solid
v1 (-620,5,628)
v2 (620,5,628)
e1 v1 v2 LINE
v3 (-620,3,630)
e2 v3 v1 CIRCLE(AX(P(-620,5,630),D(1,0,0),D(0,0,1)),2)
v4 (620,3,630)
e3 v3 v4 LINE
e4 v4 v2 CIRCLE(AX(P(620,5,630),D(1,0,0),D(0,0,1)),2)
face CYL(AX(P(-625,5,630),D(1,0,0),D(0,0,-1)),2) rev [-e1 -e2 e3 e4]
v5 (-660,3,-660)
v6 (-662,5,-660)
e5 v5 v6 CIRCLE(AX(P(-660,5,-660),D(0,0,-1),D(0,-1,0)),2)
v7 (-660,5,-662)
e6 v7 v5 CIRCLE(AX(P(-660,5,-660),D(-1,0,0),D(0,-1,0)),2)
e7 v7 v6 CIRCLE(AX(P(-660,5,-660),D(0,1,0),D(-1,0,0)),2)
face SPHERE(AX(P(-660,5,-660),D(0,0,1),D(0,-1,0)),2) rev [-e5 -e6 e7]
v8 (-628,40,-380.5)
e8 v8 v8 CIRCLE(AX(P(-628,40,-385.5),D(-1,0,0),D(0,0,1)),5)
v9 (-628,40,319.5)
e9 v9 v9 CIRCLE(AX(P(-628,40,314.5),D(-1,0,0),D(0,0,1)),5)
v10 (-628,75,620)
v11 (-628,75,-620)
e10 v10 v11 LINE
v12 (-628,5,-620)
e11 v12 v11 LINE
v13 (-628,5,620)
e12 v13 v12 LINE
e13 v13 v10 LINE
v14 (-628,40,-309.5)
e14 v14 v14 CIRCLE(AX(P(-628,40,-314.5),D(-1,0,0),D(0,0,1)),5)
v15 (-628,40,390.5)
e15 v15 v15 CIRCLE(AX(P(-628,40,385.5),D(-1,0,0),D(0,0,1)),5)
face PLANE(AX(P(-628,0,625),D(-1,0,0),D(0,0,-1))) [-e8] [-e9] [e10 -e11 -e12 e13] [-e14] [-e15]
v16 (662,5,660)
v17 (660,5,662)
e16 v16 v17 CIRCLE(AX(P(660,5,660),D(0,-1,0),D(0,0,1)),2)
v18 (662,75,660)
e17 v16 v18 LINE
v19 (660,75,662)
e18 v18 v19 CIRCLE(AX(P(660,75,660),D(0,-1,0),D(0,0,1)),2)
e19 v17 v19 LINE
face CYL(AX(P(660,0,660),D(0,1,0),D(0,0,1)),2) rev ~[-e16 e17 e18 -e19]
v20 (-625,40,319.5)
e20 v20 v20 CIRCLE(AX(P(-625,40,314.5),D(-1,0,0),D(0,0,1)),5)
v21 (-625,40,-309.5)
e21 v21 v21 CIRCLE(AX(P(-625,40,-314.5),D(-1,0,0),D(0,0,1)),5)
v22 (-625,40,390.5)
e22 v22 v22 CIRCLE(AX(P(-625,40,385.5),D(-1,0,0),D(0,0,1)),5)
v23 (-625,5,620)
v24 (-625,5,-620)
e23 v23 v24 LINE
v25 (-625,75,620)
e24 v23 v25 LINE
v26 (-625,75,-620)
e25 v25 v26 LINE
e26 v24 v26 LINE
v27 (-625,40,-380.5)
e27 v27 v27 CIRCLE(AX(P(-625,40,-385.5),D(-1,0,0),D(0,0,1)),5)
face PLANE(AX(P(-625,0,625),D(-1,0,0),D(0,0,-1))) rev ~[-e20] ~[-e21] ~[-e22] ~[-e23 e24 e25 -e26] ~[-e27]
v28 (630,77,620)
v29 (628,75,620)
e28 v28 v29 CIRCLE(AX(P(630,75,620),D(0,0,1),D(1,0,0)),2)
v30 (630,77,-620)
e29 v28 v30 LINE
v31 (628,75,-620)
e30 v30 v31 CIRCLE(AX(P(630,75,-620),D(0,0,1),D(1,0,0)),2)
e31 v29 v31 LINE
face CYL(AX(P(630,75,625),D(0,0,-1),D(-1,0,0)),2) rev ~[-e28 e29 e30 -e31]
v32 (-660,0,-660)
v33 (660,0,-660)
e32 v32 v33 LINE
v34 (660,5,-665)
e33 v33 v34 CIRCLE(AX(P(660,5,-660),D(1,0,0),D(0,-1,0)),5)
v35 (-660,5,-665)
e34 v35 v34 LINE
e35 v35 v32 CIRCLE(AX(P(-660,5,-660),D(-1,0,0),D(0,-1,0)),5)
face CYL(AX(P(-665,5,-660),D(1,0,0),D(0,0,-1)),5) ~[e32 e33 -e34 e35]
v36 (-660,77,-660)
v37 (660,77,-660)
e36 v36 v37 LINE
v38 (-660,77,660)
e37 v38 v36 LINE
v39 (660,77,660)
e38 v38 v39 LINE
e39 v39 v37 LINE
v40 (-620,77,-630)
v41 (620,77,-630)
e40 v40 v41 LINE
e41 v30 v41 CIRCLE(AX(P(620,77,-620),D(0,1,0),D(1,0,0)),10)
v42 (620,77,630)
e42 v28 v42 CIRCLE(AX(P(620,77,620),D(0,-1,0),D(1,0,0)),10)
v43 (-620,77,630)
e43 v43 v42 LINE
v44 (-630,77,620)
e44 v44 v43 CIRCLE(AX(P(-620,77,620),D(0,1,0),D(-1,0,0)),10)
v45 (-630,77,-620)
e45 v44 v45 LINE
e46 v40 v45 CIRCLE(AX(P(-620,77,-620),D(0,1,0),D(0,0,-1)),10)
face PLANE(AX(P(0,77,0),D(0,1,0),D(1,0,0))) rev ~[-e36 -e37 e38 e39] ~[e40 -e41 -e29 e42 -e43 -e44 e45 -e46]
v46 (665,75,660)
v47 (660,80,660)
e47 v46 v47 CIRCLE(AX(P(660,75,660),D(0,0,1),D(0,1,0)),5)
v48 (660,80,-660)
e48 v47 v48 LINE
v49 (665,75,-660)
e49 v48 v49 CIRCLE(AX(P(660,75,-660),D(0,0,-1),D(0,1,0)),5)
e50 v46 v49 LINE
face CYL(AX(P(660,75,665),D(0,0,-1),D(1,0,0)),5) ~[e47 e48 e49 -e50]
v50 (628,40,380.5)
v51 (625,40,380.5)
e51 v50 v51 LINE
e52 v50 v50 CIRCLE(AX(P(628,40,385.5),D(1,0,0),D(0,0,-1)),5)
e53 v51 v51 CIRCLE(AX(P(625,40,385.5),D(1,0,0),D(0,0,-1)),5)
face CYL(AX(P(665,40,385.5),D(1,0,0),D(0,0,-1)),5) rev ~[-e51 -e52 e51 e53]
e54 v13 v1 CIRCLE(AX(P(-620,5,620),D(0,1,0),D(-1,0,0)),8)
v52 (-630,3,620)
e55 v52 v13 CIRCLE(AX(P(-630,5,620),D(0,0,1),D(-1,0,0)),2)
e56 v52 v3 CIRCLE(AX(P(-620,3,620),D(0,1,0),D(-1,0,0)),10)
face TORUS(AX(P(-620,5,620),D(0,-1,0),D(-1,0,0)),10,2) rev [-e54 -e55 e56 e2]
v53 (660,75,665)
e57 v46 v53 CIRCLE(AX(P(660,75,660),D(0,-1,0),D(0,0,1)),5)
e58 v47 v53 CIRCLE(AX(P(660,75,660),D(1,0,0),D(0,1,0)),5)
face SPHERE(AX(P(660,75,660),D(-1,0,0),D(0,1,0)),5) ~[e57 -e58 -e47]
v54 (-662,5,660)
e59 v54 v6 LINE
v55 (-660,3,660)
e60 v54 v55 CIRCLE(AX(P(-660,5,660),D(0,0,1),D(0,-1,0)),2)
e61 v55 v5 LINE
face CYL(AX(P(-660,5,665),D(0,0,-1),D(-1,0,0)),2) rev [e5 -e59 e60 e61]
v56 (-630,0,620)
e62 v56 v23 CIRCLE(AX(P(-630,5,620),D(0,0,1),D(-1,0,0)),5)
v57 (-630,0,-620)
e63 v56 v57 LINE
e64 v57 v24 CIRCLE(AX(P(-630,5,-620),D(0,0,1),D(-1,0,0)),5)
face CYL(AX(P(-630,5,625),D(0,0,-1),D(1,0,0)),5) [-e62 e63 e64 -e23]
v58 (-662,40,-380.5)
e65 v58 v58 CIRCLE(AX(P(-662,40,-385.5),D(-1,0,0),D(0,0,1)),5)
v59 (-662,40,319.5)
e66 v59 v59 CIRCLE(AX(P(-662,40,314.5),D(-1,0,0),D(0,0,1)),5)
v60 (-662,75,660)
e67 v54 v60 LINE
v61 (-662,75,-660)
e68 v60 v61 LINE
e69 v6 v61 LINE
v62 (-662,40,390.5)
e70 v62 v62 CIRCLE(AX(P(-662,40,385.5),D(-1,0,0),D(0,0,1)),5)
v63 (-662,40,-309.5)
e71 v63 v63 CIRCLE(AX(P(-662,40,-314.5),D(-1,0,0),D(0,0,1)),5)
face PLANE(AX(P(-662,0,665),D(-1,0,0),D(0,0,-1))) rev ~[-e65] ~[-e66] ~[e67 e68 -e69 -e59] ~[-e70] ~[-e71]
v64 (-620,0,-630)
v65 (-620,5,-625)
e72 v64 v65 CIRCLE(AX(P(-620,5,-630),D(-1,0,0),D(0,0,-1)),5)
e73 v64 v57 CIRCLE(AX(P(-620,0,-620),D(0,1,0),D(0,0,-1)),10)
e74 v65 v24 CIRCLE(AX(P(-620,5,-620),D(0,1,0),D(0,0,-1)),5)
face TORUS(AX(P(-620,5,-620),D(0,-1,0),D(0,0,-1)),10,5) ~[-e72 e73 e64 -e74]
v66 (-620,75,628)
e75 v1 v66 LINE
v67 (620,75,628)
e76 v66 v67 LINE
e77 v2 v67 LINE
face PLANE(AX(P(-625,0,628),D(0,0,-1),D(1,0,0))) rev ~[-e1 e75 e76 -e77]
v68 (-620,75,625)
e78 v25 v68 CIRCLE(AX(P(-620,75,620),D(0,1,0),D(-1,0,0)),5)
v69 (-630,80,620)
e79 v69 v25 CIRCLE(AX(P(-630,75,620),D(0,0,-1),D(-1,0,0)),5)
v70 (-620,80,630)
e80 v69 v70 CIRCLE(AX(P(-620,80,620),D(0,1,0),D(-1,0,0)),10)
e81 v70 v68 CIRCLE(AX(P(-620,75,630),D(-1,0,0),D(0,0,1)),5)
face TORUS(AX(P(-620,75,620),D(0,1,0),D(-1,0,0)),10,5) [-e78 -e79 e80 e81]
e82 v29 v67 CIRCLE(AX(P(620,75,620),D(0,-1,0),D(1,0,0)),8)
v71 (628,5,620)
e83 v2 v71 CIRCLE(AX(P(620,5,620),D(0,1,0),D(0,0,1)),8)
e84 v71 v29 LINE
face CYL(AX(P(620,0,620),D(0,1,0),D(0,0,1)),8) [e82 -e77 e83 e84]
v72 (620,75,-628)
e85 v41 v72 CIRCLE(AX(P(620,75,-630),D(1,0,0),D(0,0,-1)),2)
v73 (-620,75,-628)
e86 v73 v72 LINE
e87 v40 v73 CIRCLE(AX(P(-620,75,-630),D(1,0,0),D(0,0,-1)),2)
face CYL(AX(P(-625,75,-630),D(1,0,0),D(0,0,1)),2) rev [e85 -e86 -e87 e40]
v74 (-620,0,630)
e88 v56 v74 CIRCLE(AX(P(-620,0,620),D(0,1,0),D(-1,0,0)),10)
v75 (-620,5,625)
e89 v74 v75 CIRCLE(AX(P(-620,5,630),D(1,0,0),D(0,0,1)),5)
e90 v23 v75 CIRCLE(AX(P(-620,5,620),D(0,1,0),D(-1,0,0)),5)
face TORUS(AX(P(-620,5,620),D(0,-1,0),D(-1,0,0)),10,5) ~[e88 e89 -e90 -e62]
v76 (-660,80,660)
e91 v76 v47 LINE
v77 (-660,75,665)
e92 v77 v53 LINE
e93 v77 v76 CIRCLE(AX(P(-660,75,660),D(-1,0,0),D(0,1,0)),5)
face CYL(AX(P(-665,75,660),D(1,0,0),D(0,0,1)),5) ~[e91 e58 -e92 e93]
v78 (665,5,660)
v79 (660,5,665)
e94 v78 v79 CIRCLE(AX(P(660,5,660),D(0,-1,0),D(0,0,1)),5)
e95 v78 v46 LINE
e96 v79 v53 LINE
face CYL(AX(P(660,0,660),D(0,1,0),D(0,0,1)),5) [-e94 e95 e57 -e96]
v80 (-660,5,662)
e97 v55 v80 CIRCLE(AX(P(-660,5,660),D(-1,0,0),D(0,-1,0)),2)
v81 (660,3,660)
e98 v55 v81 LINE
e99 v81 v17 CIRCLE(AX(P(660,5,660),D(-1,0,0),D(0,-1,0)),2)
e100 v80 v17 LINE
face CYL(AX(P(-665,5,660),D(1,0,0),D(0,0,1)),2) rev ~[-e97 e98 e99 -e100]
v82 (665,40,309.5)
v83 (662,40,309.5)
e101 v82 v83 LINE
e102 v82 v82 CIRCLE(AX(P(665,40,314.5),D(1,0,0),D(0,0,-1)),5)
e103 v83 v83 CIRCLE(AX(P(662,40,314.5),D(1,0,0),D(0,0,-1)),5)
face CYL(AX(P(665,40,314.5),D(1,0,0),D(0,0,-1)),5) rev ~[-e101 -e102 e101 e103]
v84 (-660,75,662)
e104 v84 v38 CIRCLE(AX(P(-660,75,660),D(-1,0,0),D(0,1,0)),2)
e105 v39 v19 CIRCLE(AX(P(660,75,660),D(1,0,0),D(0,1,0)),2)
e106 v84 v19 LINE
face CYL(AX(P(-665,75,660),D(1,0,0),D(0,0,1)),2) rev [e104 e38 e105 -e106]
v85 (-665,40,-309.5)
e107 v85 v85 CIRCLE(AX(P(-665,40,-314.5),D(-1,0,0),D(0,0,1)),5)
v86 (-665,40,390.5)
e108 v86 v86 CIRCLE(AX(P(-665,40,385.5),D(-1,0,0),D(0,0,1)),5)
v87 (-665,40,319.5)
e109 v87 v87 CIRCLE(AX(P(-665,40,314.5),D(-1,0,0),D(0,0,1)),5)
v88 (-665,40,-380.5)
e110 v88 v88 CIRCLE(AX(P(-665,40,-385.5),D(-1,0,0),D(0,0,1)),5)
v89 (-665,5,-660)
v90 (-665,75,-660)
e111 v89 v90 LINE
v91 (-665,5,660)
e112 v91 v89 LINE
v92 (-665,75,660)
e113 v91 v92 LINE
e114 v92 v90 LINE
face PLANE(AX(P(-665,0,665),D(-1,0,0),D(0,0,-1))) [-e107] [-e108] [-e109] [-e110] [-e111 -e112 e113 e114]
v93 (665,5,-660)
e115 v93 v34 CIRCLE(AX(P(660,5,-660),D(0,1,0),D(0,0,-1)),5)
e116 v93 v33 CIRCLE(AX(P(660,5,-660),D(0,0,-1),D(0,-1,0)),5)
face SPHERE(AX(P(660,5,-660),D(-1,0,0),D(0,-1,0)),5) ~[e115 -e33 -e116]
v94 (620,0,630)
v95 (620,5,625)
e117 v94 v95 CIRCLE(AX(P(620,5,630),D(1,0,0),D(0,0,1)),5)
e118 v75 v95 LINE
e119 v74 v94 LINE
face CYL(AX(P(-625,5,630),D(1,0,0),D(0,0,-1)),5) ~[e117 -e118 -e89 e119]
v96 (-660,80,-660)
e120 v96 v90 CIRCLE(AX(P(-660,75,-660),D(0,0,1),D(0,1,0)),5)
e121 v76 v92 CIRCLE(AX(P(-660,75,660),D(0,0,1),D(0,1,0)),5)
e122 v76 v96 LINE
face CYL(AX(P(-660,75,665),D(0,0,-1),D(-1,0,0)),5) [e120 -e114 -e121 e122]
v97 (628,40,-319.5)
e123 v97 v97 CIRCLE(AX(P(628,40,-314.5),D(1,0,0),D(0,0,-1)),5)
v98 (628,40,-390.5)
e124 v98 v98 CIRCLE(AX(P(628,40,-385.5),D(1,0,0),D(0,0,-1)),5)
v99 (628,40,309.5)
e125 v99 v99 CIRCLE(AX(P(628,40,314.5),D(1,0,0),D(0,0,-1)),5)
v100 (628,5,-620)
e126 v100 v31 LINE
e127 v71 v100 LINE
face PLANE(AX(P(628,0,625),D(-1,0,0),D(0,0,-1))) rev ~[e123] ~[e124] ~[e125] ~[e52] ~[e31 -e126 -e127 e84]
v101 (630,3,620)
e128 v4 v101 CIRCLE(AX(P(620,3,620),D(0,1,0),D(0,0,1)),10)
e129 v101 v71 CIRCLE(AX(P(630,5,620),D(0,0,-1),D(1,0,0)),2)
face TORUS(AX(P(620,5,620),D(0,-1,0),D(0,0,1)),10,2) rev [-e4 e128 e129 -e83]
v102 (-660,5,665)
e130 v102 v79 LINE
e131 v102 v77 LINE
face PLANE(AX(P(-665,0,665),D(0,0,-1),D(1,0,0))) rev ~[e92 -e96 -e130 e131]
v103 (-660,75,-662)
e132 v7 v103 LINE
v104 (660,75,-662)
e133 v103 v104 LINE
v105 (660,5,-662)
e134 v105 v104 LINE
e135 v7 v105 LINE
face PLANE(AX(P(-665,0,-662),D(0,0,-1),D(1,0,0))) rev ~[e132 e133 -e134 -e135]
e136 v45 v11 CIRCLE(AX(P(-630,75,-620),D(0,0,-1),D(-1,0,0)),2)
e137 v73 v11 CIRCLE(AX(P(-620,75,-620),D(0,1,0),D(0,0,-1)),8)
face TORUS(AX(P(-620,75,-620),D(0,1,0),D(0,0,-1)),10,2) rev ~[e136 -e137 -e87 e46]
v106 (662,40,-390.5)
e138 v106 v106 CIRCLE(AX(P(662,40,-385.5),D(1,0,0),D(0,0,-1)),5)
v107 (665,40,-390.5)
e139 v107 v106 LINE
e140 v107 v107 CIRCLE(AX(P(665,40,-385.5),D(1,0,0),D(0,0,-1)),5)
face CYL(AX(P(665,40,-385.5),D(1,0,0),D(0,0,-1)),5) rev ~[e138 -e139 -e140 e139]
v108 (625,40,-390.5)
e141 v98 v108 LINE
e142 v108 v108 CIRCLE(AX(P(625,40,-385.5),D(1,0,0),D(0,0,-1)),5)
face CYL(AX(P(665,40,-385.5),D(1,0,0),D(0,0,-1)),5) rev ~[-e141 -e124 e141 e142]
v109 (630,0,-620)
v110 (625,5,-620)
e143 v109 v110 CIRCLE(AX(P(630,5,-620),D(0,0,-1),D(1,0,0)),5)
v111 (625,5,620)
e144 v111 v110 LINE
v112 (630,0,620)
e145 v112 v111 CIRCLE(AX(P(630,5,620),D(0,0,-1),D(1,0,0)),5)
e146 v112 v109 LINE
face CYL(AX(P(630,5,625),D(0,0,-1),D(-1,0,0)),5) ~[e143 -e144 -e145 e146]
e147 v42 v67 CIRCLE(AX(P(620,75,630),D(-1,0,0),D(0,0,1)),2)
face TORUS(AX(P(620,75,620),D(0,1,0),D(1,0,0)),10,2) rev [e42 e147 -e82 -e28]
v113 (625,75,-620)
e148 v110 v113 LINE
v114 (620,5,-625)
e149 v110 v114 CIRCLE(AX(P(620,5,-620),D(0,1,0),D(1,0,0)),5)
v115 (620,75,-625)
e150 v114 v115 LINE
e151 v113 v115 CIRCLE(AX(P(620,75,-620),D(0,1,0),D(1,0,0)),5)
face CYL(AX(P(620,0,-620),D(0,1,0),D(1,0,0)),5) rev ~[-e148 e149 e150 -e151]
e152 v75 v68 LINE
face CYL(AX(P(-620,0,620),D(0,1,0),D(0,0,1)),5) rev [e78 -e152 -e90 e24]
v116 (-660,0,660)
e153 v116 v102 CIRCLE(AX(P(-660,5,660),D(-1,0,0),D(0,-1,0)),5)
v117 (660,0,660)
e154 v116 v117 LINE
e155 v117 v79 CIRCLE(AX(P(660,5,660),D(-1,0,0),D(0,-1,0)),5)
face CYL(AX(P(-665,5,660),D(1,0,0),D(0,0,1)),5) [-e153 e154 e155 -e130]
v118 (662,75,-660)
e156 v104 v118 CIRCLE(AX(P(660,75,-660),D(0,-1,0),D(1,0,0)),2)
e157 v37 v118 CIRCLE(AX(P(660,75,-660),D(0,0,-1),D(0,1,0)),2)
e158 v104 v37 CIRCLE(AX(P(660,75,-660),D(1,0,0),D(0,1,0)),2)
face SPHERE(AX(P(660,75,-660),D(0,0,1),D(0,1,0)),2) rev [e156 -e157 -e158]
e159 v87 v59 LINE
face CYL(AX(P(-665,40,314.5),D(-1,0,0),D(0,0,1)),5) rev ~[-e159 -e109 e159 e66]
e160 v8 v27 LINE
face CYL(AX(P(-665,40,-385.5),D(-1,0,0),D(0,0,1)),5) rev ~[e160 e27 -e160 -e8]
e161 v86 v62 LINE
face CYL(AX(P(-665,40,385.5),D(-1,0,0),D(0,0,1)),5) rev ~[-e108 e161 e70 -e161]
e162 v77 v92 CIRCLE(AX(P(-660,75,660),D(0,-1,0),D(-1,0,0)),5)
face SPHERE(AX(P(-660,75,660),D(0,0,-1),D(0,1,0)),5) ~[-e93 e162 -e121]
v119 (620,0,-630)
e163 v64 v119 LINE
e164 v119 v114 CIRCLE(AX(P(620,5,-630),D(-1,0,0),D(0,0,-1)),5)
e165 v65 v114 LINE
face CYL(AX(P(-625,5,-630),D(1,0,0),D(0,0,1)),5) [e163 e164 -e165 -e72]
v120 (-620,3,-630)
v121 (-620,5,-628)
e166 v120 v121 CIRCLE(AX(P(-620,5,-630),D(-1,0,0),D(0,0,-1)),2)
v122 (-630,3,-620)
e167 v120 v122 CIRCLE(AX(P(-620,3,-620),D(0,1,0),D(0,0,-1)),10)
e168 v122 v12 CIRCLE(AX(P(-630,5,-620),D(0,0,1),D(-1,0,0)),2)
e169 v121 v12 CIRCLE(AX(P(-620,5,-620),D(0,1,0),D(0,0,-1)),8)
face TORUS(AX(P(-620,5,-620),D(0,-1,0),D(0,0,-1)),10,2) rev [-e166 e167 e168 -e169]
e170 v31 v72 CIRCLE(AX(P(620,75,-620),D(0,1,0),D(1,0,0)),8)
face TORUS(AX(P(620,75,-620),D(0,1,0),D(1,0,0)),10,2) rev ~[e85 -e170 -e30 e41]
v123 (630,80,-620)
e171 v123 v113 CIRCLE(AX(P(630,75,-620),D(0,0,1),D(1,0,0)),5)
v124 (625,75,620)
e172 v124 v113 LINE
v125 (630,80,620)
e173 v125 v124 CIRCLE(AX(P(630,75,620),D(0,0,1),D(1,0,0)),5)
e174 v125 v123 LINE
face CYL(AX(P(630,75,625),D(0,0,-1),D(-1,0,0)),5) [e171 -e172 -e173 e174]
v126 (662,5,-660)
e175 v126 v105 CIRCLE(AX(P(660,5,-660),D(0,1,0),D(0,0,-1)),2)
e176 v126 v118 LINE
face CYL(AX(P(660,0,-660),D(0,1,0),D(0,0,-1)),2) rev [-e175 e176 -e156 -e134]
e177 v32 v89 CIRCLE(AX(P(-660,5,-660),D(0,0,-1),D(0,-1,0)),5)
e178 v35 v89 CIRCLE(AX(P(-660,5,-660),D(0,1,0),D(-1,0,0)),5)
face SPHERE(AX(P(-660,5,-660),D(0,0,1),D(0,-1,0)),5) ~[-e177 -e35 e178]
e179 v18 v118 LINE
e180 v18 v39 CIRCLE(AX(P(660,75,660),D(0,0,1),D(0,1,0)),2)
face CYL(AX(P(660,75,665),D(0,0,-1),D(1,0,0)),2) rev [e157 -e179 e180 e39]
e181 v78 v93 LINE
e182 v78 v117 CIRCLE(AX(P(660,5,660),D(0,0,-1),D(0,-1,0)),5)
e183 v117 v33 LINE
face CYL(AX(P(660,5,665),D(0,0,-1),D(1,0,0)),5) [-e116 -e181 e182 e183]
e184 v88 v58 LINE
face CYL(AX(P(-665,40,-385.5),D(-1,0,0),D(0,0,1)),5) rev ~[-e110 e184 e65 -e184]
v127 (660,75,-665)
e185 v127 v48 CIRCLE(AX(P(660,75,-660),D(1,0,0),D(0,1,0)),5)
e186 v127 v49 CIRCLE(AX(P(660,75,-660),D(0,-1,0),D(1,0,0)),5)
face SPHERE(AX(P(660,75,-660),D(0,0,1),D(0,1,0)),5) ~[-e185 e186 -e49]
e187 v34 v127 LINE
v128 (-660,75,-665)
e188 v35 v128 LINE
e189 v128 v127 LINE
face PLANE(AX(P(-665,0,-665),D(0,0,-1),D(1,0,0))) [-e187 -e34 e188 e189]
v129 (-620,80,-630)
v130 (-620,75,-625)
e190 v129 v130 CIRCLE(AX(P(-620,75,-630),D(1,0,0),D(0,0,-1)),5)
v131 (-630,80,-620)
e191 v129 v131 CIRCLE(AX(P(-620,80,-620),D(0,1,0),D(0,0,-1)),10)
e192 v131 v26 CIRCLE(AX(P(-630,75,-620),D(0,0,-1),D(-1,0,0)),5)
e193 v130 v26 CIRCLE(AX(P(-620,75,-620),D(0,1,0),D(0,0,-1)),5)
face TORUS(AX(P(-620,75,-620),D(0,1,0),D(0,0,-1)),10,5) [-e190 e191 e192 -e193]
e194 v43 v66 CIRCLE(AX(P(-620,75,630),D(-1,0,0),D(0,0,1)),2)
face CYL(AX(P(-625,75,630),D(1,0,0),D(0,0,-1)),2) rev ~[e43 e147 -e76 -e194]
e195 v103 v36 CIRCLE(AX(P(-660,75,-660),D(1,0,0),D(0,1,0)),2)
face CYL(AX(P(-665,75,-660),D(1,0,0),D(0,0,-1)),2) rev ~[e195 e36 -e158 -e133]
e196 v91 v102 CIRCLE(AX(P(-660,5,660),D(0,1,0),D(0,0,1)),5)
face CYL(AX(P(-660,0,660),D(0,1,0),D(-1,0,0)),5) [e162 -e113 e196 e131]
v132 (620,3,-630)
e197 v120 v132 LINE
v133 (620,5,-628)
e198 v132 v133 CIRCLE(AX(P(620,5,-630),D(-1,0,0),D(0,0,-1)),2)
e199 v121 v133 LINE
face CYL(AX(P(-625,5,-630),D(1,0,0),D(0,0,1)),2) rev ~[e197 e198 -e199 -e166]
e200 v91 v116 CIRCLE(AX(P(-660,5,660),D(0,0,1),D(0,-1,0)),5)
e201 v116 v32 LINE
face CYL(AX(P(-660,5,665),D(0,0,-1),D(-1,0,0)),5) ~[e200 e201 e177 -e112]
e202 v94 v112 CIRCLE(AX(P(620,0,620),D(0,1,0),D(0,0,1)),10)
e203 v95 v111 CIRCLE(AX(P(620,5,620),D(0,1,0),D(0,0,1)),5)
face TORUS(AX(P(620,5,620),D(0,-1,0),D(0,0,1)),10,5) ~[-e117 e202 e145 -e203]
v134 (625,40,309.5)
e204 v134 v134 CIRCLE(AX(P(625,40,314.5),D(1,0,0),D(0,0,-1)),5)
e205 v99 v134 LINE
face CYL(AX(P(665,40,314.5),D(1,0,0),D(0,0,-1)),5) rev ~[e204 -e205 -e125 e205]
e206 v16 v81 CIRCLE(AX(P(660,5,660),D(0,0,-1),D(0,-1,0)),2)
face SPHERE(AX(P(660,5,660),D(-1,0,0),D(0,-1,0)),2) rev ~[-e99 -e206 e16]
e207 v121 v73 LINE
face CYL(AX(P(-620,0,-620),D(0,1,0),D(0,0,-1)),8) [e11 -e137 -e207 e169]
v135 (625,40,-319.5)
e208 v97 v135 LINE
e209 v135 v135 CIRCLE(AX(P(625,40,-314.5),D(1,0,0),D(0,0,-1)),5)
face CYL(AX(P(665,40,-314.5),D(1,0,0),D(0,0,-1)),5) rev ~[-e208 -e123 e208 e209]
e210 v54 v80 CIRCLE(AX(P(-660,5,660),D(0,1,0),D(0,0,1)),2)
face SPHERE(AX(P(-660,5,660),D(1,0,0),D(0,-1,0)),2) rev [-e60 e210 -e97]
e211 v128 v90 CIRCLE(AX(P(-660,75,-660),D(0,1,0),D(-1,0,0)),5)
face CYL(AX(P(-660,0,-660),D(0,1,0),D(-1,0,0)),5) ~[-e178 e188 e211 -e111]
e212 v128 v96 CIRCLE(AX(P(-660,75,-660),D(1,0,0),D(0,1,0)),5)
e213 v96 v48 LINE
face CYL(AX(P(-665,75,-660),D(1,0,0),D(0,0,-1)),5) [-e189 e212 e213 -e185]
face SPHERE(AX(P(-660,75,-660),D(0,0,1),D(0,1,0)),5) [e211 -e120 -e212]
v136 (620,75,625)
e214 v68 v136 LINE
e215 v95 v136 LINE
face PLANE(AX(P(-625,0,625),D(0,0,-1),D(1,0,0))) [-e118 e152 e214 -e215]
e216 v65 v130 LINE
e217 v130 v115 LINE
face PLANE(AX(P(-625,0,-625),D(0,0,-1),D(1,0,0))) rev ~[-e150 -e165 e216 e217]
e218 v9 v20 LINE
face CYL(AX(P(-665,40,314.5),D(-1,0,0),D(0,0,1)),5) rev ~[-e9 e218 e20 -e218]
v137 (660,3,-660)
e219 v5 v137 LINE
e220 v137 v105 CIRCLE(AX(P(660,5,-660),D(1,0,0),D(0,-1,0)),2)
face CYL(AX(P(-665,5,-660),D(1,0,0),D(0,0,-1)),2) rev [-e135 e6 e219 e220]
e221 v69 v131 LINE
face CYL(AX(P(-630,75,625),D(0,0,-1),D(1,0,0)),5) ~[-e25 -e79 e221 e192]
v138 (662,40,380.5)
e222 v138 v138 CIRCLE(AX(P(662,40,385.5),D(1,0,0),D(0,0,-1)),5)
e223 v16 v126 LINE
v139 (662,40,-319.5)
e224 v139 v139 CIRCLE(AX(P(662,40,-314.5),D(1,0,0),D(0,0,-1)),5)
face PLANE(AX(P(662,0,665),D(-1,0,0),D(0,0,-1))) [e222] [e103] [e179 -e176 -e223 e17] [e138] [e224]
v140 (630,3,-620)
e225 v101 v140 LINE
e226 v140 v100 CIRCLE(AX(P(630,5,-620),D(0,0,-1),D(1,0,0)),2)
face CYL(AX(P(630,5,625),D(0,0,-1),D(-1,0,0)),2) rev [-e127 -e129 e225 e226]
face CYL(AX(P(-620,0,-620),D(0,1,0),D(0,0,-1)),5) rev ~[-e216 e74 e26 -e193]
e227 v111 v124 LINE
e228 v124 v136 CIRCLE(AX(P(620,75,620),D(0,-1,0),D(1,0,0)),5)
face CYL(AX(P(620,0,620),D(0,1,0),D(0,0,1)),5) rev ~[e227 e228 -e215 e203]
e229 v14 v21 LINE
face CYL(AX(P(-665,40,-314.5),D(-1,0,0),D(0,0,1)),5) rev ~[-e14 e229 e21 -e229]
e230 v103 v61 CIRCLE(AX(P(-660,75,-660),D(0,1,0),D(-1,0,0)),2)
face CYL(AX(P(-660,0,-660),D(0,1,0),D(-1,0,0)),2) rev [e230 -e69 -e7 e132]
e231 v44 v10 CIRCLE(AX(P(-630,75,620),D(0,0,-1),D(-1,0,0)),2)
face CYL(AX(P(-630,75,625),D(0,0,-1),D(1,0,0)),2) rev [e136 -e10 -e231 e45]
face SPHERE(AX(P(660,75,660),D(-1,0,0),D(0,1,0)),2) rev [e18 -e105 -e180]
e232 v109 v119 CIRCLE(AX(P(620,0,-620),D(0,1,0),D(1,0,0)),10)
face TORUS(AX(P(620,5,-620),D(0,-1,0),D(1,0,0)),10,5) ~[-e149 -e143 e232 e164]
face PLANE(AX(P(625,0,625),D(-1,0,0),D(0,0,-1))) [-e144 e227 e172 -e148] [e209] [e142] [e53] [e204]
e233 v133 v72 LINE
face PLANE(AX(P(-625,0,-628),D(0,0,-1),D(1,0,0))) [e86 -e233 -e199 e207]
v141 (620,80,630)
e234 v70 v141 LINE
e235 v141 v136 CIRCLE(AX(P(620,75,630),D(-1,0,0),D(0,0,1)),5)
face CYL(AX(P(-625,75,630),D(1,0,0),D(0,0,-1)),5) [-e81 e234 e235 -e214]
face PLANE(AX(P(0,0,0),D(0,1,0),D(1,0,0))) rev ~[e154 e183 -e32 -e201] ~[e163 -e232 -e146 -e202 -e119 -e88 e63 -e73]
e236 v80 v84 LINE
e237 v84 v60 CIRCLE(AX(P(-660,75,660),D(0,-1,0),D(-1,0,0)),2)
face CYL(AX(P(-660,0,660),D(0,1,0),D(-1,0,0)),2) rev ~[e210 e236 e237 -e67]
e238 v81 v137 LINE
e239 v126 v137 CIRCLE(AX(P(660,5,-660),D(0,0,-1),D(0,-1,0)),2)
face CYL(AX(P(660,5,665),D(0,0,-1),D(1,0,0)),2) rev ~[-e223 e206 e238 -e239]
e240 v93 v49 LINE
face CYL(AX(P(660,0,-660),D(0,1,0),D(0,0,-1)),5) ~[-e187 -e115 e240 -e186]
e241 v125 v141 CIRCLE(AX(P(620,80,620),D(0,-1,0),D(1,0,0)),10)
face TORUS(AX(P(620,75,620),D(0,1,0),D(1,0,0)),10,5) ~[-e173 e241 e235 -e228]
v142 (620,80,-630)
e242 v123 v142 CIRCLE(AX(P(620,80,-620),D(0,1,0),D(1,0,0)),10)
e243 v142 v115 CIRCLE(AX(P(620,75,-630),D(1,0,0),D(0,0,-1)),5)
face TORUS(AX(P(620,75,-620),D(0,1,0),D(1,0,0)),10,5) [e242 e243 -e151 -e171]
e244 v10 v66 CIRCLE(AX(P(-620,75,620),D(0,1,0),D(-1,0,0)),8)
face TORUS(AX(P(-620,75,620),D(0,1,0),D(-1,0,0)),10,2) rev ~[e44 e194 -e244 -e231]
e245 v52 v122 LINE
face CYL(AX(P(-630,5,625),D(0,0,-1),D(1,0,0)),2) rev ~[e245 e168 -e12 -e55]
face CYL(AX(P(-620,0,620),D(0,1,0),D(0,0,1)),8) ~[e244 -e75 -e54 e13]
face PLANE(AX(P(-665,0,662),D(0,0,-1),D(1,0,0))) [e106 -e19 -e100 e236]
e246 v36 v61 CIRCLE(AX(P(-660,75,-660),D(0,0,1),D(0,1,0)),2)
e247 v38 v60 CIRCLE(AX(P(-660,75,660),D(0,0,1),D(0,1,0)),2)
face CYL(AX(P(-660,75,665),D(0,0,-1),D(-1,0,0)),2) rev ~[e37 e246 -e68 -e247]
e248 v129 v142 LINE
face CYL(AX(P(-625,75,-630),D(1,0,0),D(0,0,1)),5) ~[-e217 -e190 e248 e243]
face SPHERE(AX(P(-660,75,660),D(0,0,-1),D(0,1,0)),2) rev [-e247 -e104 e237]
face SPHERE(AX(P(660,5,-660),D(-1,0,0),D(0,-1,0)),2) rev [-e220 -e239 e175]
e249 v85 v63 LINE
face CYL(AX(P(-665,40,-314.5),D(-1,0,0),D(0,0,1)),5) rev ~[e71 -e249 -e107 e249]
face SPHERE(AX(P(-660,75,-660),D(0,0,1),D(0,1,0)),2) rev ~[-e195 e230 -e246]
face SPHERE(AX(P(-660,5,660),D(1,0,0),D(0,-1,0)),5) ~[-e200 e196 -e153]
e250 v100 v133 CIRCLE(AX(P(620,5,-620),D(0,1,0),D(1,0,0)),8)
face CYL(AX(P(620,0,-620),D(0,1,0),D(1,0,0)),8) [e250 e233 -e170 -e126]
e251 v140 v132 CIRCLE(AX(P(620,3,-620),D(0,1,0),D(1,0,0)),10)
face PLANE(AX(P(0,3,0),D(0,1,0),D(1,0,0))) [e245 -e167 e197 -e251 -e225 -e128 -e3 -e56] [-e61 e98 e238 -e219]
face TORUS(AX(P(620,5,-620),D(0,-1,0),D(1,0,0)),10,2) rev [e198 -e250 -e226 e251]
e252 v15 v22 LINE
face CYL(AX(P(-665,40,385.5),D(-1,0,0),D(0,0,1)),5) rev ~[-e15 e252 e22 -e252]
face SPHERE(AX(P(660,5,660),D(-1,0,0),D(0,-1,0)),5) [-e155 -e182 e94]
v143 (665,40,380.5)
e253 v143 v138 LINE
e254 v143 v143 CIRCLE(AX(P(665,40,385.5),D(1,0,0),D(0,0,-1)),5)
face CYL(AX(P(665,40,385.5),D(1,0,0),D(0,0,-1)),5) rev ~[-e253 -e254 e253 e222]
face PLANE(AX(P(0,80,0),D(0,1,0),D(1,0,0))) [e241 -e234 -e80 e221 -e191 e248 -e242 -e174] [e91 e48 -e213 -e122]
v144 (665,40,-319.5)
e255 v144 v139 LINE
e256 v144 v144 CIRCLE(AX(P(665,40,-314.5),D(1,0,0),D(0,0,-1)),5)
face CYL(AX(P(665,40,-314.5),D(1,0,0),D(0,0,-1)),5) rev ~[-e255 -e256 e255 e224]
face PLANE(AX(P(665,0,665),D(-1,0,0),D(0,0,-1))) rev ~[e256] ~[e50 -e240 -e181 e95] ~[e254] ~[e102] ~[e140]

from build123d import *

# Parameters (mm, degrees)
SKETCH1_W           = 1330
SKETCH1_H           = 1330
SKETCH1_W_2         = 1250
SKETCH1_H_2         = 1250
BOSS_EXTRUDE1_DEPTH = 80
FILLET1_R           = 5
SHELL1_T            = 3
SKETCH4_R           = 5
CUT_EXTRUDE1_DEPTH  = 40
SKETCH5_R           = 5
CUT_EXTRUDE2_DEPTH  = 40


with BuildPart() as part:
    # Sketch1 → Boss-Extrude1 (new body)
    with BuildSketch(Plane(origin=(0, 0, 0), x_dir=(1, 0, 0), z_dir=(0, 1, 0))):
        Rectangle(SKETCH1_W, SKETCH1_H)
        Rectangle(SKETCH1_W_2, SKETCH1_H_2, mode=Mode.SUBTRACT)
    extrude(amount=BOSS_EXTRUDE1_DEPTH)

    # Fillet1
    fillet1_edges = [part.edges().sort_by_distance(p)[0] for p in [
        (-665, 80, 0),
        (0, 80, 665),
        (625, 0, 0),
        (625, 40, 625),
        (0, 0, -625),
        (625, 40, -625),
        (-625, 0, 0),
        (-625, 40, -625),
        (0, 0, 625),
        (-625, 40, 625),
        (625, 80, 0),
        (0, 80, -625),
        (-625, 80, 0),
        (0, 80, 625),
        (665, 80, 0),
        (0, 0, 665),
        (-665, 0, 0),
        (0, 0, -665),
        (665, 0, 0),
        (0, 80, -665),
        (665, 40, 665),
        (-665, 40, 665),
        (-665, 40, -665),
        (665, 40, -665),
    ]]
    fillet(fillet1_edges, radius=FILLET1_R)

    # Shell1 (no face opened: a closed hollow body)
    add(offset(amount=-SHELL1_T, mode=Mode.PRIVATE), mode=Mode.SUBTRACT)

    # Sketch4 → Cut-Extrude1 (cut)
    with BuildSketch(Plane.ZY.offset(665)):
        with Locations((385.5, 40)):
            Circle(SKETCH4_R)
        with Locations((314.5, 40)):
            Circle(SKETCH4_R)
        with Locations((-314.5, 40)):
            Circle(SKETCH4_R)
        with Locations((-385.5, 40)):
            Circle(SKETCH4_R)
    extrude(amount=-CUT_EXTRUDE1_DEPTH, mode=Mode.SUBTRACT)

    # Sketch5 → Cut-Extrude2 (cut)
    with BuildSketch(Plane(origin=(665, 0, 0), x_dir=(0, 0, -1), z_dir=(1, 0, 0))):
        with Locations((385.5, 40)):
            Circle(SKETCH5_R)
        with Locations((314.5, 40)):
            Circle(SKETCH5_R)
        with Locations((-314.5, 40)):
            Circle(SKETCH5_R)
        with Locations((-385.5, 40)):
            Circle(SKETCH5_R)
    extrude(amount=-CUT_EXTRUDE2_DEPTH, mode=Mode.SUBTRACT)


solid = part.part
